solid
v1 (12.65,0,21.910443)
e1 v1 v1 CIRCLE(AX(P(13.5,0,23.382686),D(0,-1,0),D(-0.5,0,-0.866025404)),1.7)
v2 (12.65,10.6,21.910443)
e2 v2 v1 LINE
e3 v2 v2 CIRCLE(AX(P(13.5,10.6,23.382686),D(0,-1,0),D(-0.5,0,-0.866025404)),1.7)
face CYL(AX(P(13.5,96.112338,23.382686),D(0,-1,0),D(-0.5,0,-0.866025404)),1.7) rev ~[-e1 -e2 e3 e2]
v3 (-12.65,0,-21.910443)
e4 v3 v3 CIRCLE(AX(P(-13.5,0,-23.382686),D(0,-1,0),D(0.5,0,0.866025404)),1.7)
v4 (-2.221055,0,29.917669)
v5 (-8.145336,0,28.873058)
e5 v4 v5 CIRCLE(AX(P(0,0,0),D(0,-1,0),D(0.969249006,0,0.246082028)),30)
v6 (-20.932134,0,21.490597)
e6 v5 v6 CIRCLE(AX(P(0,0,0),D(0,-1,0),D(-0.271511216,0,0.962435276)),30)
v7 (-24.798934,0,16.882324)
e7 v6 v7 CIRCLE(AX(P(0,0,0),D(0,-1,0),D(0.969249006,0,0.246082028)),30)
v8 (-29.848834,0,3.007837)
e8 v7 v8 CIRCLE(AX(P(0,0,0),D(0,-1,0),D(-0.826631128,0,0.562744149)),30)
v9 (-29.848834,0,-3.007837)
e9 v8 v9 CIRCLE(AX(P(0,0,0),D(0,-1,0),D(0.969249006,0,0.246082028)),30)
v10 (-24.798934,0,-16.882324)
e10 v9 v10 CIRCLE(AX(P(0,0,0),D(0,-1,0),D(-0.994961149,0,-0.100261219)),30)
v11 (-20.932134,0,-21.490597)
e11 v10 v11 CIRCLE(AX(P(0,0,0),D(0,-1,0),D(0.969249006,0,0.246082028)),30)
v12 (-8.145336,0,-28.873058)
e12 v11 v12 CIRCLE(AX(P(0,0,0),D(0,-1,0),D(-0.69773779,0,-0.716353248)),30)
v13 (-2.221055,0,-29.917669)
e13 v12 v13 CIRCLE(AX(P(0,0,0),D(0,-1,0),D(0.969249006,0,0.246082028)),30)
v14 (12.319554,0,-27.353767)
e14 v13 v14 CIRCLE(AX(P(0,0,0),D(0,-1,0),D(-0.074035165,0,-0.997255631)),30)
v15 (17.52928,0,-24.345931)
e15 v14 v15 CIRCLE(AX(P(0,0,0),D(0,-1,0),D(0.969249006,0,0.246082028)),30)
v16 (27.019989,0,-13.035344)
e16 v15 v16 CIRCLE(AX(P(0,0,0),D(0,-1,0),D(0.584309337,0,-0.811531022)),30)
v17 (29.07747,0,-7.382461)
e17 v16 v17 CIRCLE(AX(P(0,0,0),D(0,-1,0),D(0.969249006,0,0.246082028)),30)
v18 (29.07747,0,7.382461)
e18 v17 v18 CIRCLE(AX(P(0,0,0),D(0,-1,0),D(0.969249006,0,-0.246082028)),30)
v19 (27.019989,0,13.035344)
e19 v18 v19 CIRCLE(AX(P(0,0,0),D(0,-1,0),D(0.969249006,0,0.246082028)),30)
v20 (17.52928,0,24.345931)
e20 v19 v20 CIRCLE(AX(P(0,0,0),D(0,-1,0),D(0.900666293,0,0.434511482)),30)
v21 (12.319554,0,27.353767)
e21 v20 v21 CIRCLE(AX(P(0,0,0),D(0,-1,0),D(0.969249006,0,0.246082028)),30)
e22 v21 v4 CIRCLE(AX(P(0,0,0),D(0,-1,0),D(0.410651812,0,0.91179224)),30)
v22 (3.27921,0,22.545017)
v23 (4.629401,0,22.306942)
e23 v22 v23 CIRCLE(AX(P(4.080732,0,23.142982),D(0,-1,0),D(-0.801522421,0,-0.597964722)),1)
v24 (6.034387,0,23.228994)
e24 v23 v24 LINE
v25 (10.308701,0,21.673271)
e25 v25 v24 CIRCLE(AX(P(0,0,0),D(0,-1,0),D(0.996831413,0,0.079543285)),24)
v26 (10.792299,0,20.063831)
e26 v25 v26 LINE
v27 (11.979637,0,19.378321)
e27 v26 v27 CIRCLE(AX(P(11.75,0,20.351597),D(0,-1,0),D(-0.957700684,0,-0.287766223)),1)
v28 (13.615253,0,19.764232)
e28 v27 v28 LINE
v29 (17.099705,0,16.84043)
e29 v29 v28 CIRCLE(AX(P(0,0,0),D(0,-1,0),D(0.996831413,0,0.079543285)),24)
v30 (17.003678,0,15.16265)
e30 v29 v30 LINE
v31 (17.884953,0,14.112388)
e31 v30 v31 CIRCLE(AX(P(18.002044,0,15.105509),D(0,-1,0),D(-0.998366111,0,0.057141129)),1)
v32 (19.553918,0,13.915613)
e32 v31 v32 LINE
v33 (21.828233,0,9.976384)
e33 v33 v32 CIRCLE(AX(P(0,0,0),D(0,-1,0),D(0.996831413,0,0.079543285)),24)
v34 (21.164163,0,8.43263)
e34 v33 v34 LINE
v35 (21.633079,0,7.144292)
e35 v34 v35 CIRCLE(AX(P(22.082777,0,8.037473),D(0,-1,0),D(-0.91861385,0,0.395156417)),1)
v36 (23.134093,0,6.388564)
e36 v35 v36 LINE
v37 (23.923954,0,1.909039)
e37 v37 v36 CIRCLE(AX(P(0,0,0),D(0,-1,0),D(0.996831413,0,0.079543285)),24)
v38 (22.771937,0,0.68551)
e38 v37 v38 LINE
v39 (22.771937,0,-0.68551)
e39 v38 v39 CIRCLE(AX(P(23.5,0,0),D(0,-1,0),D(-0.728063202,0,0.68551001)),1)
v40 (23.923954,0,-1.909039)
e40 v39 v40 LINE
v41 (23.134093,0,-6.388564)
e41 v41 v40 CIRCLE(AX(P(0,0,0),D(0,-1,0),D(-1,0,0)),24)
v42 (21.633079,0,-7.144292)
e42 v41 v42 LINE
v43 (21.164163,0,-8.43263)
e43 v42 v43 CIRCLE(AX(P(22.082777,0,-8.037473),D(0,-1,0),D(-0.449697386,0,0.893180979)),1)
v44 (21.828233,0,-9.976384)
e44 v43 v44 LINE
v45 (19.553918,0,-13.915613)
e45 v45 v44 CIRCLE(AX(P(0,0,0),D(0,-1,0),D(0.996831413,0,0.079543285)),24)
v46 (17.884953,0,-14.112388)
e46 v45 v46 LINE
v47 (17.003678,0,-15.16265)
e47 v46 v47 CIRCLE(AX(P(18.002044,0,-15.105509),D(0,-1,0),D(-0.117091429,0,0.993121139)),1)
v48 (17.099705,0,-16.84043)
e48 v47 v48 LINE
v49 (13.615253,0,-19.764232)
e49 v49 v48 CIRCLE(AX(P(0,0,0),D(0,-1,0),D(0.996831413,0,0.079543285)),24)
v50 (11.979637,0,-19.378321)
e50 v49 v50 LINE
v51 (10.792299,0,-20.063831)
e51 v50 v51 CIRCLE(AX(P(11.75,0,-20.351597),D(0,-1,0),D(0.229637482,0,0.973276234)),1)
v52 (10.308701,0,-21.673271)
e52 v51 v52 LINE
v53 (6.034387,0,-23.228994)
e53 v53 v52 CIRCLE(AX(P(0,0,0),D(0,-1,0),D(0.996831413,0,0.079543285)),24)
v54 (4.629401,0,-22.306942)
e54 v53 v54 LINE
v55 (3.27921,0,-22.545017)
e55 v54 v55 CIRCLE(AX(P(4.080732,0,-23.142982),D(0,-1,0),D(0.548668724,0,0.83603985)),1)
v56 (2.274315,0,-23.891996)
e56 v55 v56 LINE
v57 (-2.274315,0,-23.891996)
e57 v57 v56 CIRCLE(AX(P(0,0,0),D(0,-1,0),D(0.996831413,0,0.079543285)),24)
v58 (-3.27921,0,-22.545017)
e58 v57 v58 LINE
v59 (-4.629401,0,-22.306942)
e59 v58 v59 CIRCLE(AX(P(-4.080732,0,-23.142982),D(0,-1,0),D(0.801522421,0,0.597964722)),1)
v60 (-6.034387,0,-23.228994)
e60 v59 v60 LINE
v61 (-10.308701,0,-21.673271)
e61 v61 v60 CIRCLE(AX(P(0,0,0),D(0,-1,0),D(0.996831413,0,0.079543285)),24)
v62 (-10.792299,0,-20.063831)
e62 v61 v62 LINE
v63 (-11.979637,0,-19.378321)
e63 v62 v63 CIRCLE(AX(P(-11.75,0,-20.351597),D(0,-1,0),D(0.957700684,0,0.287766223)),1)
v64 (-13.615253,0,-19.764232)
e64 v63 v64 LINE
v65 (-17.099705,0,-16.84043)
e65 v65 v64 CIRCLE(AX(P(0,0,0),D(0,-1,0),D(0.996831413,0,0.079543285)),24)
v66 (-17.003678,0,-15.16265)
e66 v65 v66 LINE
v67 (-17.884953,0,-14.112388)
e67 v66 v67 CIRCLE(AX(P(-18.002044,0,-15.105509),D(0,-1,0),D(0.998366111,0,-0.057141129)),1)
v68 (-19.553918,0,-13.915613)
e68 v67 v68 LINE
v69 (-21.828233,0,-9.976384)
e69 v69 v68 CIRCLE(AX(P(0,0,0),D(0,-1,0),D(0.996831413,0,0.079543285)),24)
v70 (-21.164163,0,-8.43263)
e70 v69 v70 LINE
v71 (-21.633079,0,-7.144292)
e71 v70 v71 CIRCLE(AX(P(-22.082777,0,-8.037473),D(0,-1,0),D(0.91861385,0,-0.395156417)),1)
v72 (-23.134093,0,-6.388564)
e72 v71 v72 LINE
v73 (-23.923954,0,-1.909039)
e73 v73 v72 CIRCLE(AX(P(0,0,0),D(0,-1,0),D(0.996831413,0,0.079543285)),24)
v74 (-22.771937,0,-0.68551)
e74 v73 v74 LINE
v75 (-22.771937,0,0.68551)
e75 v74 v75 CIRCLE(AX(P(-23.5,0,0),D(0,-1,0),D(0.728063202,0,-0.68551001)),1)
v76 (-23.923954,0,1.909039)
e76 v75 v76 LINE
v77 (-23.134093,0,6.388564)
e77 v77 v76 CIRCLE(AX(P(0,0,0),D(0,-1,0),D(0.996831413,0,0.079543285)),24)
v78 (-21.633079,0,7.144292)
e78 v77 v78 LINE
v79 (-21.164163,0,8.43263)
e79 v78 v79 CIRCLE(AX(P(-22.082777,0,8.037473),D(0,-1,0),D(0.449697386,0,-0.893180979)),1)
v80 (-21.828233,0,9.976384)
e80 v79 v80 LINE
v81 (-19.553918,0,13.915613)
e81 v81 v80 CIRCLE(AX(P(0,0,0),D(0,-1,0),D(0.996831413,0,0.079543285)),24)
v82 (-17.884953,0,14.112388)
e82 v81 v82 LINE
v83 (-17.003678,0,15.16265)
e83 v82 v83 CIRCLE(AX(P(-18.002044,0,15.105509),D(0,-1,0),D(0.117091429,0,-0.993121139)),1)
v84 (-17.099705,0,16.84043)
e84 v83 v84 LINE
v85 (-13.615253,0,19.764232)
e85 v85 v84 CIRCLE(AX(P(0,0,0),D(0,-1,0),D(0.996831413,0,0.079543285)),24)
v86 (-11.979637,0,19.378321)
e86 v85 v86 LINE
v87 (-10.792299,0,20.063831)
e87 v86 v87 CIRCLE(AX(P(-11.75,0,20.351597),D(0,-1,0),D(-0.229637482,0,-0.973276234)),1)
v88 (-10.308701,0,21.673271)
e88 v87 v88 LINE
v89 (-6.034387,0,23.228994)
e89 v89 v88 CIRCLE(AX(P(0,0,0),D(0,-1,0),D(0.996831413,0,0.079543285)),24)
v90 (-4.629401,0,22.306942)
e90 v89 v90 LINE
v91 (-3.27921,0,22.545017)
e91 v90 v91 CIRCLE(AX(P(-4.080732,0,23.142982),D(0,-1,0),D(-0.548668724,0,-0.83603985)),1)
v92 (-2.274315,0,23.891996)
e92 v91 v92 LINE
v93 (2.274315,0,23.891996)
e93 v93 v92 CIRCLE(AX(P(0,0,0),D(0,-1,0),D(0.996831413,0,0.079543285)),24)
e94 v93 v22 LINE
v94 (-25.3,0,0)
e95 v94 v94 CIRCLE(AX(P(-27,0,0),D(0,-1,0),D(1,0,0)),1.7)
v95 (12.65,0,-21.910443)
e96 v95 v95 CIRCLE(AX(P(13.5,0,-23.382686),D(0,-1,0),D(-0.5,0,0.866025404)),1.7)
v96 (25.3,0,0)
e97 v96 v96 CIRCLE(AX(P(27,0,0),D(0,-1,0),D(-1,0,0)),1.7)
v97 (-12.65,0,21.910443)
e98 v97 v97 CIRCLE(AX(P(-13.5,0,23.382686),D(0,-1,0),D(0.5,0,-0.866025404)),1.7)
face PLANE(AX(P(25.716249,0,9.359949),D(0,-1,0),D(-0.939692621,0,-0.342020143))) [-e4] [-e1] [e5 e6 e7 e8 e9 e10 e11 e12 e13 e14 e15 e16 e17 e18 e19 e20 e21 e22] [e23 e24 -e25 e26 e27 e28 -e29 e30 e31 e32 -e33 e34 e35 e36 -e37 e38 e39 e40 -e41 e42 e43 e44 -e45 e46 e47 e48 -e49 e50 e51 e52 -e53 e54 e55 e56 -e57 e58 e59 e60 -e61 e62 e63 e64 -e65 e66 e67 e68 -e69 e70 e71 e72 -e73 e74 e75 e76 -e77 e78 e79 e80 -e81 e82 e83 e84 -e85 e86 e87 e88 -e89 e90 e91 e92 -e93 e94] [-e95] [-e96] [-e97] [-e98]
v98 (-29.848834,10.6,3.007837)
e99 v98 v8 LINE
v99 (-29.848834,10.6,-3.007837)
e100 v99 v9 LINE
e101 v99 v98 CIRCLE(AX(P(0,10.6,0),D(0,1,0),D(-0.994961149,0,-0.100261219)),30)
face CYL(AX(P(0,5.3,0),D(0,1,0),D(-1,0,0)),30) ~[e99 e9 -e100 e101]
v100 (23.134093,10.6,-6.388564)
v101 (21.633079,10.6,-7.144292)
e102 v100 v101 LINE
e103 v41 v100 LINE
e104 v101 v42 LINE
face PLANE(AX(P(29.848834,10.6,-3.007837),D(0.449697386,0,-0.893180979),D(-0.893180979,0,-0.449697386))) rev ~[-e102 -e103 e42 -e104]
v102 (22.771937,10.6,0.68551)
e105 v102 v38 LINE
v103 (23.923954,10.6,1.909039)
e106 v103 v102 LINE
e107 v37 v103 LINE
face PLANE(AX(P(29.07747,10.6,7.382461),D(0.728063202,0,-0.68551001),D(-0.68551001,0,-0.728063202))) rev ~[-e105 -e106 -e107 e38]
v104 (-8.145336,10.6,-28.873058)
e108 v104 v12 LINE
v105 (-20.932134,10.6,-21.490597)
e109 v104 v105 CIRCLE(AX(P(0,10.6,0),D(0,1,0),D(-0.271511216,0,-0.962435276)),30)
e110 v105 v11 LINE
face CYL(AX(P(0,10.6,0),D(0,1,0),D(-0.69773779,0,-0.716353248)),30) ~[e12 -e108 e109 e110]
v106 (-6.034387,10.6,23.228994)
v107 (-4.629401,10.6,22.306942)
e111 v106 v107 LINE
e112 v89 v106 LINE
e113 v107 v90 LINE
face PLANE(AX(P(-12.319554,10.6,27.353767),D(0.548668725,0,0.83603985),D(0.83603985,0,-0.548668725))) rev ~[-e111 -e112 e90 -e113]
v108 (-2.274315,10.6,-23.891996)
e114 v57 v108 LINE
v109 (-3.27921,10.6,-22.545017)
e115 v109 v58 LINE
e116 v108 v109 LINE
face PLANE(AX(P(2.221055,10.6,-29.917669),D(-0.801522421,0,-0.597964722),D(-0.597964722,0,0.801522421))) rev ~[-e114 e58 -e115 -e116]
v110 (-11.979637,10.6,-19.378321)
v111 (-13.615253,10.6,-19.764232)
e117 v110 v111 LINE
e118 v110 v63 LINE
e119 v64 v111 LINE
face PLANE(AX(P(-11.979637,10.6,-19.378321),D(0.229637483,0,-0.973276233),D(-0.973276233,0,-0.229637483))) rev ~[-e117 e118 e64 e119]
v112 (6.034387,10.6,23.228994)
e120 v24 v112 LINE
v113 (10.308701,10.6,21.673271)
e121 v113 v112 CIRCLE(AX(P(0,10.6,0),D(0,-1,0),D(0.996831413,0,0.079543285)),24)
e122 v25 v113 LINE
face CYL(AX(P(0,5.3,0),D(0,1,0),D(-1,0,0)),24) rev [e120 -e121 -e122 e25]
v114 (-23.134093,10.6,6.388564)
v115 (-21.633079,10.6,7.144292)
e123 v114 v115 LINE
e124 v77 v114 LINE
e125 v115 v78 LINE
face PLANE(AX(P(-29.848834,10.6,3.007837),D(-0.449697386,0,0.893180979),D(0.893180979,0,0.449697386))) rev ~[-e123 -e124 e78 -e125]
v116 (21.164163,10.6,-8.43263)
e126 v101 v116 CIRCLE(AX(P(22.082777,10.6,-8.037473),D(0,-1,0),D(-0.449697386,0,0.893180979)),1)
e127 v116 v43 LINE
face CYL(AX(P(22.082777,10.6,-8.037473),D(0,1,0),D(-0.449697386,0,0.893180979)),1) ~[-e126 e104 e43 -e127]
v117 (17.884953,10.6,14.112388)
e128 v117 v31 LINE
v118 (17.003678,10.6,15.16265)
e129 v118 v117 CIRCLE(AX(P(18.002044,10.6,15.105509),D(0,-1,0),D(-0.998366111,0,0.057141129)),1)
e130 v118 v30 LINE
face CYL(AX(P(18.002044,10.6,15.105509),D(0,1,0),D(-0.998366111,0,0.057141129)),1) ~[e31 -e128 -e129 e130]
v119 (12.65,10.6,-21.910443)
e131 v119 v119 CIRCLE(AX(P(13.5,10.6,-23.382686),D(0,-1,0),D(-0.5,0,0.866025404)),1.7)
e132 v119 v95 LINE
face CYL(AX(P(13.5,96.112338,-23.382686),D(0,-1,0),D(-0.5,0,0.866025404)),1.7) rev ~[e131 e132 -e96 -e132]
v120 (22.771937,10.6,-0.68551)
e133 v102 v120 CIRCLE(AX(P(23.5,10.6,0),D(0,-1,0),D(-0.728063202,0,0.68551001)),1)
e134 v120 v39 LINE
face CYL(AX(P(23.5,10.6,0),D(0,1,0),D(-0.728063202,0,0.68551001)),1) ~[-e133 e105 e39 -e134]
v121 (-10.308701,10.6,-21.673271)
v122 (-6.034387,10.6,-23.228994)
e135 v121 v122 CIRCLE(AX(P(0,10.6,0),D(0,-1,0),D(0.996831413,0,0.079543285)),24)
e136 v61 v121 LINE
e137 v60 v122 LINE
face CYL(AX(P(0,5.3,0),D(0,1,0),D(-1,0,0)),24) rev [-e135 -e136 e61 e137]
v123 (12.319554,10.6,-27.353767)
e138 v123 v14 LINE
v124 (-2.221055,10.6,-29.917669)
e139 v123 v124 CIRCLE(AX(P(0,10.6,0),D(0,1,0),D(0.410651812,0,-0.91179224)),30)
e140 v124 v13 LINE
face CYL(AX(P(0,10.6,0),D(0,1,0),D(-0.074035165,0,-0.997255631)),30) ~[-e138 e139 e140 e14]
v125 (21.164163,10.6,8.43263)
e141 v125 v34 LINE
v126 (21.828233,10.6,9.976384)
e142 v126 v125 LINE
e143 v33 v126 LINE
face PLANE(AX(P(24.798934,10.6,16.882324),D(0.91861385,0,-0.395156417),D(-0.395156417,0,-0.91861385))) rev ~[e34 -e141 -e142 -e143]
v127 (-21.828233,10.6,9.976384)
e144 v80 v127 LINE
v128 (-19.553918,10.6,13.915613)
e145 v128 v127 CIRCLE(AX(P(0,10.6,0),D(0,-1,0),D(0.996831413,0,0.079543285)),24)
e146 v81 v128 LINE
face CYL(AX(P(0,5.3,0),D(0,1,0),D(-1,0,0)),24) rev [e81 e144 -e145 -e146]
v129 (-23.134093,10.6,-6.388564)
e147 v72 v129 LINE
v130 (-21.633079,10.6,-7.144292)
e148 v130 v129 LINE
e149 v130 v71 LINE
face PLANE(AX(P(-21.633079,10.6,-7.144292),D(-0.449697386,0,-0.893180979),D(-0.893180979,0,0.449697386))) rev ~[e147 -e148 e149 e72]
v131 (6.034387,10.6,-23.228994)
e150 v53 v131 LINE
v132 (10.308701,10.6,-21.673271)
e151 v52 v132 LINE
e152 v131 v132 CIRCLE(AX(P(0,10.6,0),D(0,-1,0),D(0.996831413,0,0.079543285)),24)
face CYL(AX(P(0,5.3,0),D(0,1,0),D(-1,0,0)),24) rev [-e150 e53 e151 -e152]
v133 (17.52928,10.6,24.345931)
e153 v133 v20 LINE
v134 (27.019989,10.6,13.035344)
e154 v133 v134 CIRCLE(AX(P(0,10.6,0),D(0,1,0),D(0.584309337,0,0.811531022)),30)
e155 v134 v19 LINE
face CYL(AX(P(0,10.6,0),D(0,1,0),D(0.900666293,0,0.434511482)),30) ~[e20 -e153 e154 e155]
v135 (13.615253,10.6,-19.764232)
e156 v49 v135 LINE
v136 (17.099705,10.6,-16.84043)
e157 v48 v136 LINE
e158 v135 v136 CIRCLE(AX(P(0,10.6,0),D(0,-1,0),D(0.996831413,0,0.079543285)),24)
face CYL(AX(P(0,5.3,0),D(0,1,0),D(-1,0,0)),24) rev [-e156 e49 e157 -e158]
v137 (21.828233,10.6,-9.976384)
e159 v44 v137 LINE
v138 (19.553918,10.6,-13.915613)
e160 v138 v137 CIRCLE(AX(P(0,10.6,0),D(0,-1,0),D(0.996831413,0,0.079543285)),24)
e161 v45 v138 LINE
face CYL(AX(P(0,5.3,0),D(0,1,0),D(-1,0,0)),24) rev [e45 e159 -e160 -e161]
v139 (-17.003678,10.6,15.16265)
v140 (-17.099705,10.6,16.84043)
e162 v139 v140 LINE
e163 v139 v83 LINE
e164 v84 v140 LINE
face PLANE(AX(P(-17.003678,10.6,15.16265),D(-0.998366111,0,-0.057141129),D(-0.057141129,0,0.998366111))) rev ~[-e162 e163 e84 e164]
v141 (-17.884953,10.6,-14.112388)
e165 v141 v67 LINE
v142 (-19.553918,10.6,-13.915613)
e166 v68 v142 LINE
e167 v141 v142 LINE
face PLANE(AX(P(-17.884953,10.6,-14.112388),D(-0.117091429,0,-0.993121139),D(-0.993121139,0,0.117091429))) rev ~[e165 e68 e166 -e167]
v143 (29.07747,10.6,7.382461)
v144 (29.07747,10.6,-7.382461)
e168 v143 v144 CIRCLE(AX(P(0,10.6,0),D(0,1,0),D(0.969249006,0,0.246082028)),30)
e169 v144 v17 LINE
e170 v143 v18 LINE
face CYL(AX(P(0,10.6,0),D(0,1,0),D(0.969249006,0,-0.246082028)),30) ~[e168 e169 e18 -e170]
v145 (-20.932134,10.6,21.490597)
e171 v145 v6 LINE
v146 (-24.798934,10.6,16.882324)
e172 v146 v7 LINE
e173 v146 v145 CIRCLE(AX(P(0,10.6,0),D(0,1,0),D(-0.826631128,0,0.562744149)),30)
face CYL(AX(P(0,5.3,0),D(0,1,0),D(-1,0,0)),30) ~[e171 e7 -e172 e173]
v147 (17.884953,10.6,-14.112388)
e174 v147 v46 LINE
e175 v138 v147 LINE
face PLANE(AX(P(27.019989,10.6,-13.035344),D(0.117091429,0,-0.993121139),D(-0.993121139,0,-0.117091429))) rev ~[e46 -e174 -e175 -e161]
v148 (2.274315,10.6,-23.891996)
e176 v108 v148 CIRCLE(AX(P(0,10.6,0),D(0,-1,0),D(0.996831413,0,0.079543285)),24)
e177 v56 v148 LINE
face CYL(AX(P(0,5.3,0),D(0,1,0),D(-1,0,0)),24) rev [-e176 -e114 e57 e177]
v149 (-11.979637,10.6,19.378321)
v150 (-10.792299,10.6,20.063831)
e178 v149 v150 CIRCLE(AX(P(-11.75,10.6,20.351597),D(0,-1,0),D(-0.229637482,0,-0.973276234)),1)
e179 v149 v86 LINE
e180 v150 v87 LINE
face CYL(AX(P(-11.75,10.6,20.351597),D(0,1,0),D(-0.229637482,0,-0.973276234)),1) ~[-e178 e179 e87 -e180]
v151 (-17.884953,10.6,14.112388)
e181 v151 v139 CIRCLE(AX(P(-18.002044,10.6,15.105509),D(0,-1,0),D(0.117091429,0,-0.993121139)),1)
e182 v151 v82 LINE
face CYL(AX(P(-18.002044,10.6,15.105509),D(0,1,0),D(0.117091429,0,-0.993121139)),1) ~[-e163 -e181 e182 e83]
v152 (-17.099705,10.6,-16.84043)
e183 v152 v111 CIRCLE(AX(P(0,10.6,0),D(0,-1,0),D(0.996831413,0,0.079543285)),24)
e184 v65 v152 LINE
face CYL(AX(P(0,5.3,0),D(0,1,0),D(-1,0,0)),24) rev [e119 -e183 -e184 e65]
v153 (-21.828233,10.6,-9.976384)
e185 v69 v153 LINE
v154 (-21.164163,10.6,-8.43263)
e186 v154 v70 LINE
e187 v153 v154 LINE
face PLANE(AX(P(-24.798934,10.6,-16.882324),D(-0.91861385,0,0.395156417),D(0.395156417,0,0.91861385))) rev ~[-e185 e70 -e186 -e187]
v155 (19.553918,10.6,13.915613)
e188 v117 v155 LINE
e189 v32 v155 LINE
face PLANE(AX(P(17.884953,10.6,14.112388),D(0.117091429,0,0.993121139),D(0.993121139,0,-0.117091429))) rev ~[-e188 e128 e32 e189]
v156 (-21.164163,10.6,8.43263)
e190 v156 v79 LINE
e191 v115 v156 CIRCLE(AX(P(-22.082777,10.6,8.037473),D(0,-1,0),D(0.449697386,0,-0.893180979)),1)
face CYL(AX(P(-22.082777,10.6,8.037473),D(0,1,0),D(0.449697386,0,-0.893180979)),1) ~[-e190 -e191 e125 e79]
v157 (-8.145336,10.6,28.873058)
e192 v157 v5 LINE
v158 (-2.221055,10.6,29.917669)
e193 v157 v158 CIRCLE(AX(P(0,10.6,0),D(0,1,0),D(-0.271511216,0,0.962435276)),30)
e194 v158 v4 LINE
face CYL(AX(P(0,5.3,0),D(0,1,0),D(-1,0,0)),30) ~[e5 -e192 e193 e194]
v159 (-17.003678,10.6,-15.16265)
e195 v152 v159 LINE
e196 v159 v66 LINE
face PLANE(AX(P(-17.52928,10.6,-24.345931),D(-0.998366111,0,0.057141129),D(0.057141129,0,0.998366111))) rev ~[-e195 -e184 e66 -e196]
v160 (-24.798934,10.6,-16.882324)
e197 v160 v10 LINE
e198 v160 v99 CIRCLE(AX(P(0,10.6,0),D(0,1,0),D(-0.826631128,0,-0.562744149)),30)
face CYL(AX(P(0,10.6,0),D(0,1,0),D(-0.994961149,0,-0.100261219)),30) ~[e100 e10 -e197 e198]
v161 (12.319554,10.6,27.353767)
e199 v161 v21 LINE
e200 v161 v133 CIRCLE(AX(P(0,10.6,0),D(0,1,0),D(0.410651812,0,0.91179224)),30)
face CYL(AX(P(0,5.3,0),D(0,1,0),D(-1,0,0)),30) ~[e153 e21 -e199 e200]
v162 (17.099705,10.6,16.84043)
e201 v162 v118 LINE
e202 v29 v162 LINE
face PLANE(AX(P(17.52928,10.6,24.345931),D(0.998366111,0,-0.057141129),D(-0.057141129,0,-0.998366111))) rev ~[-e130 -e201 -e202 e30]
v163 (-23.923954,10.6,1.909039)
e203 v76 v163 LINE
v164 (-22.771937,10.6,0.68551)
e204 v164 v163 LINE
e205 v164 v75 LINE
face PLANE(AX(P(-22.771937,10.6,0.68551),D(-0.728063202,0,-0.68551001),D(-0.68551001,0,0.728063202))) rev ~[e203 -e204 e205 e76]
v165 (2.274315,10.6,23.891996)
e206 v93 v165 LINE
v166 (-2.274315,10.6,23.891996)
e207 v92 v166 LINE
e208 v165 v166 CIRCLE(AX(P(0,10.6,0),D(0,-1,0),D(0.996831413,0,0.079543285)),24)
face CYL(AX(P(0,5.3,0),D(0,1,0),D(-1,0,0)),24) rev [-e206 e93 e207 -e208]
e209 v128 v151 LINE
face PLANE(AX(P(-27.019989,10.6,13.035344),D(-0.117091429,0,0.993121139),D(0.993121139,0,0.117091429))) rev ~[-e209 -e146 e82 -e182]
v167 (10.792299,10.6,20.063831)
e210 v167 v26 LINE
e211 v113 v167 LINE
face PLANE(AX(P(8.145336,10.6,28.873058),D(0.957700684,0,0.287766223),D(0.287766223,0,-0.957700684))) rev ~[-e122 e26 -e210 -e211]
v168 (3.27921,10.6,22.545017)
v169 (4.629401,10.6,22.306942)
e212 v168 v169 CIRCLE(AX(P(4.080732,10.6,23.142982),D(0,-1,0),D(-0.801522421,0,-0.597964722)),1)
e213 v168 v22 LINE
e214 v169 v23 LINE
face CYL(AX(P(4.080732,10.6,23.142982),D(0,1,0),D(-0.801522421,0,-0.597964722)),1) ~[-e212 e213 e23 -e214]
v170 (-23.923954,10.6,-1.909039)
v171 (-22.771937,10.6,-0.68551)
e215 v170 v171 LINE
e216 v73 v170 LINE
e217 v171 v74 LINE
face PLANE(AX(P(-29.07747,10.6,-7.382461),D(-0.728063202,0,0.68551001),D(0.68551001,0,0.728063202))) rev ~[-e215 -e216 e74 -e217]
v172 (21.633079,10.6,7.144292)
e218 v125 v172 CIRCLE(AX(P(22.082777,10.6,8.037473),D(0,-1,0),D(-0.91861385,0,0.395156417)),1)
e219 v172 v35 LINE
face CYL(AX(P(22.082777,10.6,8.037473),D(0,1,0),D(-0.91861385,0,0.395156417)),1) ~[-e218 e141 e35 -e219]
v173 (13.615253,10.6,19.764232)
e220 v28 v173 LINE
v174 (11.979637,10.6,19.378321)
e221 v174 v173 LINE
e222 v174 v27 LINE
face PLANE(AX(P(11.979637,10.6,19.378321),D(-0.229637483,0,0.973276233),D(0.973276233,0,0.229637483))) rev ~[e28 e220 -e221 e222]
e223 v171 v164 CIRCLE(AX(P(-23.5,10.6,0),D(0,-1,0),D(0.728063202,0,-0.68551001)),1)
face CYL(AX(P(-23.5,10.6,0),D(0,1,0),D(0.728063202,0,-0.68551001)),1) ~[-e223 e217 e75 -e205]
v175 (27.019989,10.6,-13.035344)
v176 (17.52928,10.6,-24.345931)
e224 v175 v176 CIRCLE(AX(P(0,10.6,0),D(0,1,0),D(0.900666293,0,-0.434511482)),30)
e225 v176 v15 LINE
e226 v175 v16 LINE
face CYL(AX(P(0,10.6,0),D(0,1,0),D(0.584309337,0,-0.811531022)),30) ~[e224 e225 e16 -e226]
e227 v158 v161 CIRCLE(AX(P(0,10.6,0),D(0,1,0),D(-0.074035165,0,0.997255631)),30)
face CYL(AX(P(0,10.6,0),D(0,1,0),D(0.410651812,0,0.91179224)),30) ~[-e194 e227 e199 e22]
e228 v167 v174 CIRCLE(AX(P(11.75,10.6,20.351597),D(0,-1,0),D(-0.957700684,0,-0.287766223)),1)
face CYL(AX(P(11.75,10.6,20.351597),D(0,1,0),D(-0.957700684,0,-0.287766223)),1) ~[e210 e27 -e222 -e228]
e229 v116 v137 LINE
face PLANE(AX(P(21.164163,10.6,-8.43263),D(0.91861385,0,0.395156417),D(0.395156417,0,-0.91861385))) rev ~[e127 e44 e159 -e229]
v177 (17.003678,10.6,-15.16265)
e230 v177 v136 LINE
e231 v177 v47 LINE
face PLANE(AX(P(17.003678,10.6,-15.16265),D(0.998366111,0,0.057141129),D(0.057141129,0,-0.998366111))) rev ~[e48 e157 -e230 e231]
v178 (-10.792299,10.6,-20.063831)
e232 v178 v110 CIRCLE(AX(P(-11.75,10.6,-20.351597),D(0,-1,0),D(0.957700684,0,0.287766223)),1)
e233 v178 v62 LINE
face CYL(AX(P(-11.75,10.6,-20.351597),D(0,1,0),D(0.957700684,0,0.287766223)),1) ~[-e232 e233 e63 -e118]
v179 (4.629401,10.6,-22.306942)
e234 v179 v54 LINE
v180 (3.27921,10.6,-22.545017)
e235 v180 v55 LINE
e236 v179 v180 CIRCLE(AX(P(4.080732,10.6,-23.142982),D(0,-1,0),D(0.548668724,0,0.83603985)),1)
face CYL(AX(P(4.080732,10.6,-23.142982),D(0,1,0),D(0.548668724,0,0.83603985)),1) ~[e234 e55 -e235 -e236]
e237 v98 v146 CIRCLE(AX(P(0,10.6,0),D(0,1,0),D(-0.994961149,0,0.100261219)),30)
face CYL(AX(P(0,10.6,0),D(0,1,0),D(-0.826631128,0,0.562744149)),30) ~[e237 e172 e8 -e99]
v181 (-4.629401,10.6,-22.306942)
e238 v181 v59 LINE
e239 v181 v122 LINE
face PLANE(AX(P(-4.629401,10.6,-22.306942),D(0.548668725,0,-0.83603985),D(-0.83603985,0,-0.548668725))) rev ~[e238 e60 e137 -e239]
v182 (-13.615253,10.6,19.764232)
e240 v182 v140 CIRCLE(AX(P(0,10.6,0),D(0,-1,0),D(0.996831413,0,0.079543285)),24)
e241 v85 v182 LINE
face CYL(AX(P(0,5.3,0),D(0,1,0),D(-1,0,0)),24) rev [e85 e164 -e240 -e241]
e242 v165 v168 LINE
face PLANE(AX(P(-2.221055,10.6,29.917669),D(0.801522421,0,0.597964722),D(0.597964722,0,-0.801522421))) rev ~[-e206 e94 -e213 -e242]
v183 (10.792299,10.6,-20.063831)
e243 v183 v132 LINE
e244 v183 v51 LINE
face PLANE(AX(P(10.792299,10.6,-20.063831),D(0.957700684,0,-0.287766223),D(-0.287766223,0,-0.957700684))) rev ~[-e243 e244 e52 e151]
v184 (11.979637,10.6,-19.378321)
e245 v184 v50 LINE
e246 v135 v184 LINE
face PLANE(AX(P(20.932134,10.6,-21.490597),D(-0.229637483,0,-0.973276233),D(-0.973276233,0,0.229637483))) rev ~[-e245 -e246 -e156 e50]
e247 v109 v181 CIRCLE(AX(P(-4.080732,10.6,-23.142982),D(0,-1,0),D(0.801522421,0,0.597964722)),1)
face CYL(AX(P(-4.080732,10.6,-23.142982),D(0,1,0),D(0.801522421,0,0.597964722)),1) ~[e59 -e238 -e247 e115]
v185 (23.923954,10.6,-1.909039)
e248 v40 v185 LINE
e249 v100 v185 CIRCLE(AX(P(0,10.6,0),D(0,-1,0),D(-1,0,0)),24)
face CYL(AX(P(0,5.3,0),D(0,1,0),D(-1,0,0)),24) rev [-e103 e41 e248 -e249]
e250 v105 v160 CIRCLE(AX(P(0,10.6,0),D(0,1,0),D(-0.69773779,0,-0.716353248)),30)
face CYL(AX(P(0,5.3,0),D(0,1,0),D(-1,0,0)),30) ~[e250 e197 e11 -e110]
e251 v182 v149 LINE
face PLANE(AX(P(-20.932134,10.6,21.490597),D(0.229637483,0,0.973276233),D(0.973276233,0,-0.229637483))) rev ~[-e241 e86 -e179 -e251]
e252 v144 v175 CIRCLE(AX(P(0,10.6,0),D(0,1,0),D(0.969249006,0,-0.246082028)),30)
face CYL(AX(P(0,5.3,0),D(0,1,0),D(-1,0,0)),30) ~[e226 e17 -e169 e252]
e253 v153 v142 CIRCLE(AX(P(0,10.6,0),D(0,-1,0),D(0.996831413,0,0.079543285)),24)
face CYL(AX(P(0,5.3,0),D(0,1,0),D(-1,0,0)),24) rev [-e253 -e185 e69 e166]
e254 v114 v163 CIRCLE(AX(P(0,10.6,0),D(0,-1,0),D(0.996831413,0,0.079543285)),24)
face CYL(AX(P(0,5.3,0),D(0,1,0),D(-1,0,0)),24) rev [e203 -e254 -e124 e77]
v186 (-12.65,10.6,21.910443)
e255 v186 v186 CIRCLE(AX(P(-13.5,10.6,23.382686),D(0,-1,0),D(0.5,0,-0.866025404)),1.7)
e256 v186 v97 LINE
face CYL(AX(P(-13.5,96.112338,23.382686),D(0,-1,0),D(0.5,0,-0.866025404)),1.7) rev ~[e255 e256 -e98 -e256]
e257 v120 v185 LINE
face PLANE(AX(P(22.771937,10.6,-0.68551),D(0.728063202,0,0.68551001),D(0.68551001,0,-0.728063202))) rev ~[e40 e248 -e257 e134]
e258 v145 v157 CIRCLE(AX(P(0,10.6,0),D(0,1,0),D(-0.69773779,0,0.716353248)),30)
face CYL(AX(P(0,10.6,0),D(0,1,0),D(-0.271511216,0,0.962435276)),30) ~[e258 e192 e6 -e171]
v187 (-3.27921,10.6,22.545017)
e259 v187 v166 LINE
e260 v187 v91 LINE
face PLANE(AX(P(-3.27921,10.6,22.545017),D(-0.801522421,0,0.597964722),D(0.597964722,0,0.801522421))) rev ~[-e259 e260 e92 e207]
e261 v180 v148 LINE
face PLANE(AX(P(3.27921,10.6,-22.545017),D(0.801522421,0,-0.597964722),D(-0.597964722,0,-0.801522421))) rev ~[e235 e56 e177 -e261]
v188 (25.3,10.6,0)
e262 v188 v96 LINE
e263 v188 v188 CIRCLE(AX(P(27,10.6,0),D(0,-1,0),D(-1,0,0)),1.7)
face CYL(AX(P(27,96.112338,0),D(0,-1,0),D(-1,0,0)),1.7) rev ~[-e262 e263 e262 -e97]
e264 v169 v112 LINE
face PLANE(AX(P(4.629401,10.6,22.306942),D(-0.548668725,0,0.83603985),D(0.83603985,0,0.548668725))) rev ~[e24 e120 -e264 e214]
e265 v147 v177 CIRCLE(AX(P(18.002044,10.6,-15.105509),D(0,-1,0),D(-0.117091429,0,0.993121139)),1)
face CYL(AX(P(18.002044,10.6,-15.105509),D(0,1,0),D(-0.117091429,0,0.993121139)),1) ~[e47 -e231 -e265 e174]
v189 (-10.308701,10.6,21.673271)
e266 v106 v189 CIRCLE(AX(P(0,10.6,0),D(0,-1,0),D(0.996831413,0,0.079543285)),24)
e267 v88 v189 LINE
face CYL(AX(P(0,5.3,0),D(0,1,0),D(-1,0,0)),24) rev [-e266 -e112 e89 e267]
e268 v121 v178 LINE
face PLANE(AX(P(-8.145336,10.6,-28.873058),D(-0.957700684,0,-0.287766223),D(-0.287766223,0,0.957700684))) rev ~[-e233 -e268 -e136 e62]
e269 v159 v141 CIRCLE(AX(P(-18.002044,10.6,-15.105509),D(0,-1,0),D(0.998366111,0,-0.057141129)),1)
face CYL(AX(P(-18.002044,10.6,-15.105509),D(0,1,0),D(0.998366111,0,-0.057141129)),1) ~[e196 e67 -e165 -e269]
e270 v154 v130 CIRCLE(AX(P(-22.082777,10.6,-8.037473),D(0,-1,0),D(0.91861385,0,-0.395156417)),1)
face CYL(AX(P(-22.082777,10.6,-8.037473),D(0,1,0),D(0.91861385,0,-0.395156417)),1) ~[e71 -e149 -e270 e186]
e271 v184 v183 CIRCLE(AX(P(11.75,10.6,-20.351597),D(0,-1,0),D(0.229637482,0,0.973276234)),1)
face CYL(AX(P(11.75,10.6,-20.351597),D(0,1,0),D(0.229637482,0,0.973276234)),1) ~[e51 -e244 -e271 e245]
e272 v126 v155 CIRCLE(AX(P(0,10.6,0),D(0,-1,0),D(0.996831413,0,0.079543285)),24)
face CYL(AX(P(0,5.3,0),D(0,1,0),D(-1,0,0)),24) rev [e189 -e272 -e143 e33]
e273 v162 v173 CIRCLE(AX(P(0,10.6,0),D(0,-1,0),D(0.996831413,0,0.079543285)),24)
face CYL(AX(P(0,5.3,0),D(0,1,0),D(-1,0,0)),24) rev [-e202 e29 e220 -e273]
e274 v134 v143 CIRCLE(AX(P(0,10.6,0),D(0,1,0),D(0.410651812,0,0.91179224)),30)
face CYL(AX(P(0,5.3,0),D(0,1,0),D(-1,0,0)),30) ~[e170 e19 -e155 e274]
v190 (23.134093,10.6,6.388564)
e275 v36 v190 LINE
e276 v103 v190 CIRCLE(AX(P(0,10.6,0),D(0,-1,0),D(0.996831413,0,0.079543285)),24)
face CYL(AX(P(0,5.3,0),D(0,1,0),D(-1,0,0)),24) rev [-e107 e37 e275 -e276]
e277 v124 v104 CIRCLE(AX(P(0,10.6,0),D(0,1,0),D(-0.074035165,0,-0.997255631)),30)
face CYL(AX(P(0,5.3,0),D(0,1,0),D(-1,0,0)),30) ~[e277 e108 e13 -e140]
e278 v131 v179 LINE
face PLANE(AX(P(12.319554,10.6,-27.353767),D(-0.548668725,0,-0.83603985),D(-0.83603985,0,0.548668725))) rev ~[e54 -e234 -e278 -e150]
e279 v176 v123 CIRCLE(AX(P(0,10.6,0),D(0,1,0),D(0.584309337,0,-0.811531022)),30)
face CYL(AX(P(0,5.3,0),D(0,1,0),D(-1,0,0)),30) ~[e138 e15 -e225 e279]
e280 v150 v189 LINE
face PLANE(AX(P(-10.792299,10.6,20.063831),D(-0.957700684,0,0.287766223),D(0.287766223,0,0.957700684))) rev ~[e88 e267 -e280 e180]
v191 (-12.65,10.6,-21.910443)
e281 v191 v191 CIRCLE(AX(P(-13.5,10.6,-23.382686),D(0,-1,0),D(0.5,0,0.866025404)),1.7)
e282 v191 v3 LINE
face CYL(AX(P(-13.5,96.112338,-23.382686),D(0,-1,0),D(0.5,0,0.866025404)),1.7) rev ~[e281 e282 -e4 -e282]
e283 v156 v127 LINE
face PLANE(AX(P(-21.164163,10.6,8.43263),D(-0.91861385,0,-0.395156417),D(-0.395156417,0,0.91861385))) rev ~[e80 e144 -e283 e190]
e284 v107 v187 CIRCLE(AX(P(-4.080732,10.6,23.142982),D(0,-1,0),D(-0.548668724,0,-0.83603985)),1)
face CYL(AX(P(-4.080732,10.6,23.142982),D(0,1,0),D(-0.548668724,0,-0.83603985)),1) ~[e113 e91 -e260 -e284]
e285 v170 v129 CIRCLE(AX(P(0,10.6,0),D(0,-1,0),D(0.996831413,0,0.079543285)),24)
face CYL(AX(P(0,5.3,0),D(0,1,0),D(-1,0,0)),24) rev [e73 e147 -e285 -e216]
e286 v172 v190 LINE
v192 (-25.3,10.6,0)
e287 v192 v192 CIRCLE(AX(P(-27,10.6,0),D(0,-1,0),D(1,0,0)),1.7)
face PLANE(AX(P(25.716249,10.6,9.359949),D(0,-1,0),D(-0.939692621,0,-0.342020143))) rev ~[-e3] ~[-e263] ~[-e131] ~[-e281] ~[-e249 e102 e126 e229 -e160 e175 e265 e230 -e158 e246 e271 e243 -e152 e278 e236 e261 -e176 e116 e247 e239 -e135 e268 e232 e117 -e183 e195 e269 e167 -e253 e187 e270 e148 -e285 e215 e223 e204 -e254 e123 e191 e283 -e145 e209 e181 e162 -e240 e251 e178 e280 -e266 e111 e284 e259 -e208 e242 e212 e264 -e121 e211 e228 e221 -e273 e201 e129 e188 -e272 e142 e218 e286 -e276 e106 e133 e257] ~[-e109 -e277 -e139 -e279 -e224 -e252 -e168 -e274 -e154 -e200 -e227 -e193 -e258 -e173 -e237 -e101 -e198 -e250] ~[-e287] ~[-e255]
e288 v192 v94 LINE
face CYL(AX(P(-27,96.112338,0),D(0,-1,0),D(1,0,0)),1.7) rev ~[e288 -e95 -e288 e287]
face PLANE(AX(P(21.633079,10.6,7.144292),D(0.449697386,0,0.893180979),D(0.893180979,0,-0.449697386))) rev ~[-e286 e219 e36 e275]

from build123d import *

# Parameters (mm, degrees)
SKETCH1_W            = 6
SKETCH1_H            = 10.6
BOSS_EXTRUDE1_DEPTH  = 10.6
CIRPATTERN2_COUNT    = 18
M3_CLEARANCE_HOLE1_D = 3.4
CIRPATTERN1_COUNT    = 6


with BuildPart() as part:
    # Sketch1 → Revolve1 (revolve)
    with BuildSketch(Plane.XY, mode=Mode.PRIVATE) as revolve1_sk:
        with Locations((27, 5.3)):
            Rectangle(SKETCH1_W, SKETCH1_H)
    revolve(revolve1_sk.sketch.rotate(Axis((0, 22.026442308, 0), (0, -1, 0)), 180), axis=Axis((0, 22.026442308, 0), (0, -1, 0)))

    # Sketch4 → Boss-Extrude1 (add)
    with BuildSketch(Plane(origin=(0, 10.6, 0), x_dir=(1, 0, 0), z_dir=(0, 1, 0))):
        with BuildLine():
            Line((22.771936798, 0.68551001), (29.077470181, 7.382460828))
            ThreePointArc((29.077470181, 7.382460828), (30, 0), (29.077470181, -7.382460828))
            Line((29.077470181, -7.382460828), (22.771936798, -0.68551001))
            ThreePointArc((22.771936798, -0.68551001), (22.5, 0), (22.771936798, 0.68551001))
        make_face()
    boss_extrude1 = extrude(amount=-BOSS_EXTRUDE1_DEPTH)

    # CirPattern2: Boss-Extrude1 ×18 about axis
    cirpattern2_axis = Axis((0, 0, 0), (0, 1, 0))
    for i in range(1, CIRPATTERN2_COUNT):
        add(boss_extrude1.rotate(cirpattern2_axis, i * 360 / CIRPATTERN2_COUNT))

    # M3 Clearance Hole1 (through all)
    with Locations(Plane(origin=(0, 10.6, 0), x_dir=(1, 0, 0), z_dir=(0, 1, 0))):
        with Locations((27, 0)):
            m3_clearance_hole1 = Hole(M3_CLEARANCE_HOLE1_D / 2)

    # CirPattern1: M3 Clearance Hole1 ×6 about axis
    cirpattern1_axis = Axis((0, 0, 0), (0, 1, 0))
    for i in range(1, CIRPATTERN1_COUNT):
        add(m3_clearance_hole1.rotate(cirpattern1_axis, i * 360 / CIRPATTERN1_COUNT), mode=Mode.SUBTRACT)


solid = part.part
